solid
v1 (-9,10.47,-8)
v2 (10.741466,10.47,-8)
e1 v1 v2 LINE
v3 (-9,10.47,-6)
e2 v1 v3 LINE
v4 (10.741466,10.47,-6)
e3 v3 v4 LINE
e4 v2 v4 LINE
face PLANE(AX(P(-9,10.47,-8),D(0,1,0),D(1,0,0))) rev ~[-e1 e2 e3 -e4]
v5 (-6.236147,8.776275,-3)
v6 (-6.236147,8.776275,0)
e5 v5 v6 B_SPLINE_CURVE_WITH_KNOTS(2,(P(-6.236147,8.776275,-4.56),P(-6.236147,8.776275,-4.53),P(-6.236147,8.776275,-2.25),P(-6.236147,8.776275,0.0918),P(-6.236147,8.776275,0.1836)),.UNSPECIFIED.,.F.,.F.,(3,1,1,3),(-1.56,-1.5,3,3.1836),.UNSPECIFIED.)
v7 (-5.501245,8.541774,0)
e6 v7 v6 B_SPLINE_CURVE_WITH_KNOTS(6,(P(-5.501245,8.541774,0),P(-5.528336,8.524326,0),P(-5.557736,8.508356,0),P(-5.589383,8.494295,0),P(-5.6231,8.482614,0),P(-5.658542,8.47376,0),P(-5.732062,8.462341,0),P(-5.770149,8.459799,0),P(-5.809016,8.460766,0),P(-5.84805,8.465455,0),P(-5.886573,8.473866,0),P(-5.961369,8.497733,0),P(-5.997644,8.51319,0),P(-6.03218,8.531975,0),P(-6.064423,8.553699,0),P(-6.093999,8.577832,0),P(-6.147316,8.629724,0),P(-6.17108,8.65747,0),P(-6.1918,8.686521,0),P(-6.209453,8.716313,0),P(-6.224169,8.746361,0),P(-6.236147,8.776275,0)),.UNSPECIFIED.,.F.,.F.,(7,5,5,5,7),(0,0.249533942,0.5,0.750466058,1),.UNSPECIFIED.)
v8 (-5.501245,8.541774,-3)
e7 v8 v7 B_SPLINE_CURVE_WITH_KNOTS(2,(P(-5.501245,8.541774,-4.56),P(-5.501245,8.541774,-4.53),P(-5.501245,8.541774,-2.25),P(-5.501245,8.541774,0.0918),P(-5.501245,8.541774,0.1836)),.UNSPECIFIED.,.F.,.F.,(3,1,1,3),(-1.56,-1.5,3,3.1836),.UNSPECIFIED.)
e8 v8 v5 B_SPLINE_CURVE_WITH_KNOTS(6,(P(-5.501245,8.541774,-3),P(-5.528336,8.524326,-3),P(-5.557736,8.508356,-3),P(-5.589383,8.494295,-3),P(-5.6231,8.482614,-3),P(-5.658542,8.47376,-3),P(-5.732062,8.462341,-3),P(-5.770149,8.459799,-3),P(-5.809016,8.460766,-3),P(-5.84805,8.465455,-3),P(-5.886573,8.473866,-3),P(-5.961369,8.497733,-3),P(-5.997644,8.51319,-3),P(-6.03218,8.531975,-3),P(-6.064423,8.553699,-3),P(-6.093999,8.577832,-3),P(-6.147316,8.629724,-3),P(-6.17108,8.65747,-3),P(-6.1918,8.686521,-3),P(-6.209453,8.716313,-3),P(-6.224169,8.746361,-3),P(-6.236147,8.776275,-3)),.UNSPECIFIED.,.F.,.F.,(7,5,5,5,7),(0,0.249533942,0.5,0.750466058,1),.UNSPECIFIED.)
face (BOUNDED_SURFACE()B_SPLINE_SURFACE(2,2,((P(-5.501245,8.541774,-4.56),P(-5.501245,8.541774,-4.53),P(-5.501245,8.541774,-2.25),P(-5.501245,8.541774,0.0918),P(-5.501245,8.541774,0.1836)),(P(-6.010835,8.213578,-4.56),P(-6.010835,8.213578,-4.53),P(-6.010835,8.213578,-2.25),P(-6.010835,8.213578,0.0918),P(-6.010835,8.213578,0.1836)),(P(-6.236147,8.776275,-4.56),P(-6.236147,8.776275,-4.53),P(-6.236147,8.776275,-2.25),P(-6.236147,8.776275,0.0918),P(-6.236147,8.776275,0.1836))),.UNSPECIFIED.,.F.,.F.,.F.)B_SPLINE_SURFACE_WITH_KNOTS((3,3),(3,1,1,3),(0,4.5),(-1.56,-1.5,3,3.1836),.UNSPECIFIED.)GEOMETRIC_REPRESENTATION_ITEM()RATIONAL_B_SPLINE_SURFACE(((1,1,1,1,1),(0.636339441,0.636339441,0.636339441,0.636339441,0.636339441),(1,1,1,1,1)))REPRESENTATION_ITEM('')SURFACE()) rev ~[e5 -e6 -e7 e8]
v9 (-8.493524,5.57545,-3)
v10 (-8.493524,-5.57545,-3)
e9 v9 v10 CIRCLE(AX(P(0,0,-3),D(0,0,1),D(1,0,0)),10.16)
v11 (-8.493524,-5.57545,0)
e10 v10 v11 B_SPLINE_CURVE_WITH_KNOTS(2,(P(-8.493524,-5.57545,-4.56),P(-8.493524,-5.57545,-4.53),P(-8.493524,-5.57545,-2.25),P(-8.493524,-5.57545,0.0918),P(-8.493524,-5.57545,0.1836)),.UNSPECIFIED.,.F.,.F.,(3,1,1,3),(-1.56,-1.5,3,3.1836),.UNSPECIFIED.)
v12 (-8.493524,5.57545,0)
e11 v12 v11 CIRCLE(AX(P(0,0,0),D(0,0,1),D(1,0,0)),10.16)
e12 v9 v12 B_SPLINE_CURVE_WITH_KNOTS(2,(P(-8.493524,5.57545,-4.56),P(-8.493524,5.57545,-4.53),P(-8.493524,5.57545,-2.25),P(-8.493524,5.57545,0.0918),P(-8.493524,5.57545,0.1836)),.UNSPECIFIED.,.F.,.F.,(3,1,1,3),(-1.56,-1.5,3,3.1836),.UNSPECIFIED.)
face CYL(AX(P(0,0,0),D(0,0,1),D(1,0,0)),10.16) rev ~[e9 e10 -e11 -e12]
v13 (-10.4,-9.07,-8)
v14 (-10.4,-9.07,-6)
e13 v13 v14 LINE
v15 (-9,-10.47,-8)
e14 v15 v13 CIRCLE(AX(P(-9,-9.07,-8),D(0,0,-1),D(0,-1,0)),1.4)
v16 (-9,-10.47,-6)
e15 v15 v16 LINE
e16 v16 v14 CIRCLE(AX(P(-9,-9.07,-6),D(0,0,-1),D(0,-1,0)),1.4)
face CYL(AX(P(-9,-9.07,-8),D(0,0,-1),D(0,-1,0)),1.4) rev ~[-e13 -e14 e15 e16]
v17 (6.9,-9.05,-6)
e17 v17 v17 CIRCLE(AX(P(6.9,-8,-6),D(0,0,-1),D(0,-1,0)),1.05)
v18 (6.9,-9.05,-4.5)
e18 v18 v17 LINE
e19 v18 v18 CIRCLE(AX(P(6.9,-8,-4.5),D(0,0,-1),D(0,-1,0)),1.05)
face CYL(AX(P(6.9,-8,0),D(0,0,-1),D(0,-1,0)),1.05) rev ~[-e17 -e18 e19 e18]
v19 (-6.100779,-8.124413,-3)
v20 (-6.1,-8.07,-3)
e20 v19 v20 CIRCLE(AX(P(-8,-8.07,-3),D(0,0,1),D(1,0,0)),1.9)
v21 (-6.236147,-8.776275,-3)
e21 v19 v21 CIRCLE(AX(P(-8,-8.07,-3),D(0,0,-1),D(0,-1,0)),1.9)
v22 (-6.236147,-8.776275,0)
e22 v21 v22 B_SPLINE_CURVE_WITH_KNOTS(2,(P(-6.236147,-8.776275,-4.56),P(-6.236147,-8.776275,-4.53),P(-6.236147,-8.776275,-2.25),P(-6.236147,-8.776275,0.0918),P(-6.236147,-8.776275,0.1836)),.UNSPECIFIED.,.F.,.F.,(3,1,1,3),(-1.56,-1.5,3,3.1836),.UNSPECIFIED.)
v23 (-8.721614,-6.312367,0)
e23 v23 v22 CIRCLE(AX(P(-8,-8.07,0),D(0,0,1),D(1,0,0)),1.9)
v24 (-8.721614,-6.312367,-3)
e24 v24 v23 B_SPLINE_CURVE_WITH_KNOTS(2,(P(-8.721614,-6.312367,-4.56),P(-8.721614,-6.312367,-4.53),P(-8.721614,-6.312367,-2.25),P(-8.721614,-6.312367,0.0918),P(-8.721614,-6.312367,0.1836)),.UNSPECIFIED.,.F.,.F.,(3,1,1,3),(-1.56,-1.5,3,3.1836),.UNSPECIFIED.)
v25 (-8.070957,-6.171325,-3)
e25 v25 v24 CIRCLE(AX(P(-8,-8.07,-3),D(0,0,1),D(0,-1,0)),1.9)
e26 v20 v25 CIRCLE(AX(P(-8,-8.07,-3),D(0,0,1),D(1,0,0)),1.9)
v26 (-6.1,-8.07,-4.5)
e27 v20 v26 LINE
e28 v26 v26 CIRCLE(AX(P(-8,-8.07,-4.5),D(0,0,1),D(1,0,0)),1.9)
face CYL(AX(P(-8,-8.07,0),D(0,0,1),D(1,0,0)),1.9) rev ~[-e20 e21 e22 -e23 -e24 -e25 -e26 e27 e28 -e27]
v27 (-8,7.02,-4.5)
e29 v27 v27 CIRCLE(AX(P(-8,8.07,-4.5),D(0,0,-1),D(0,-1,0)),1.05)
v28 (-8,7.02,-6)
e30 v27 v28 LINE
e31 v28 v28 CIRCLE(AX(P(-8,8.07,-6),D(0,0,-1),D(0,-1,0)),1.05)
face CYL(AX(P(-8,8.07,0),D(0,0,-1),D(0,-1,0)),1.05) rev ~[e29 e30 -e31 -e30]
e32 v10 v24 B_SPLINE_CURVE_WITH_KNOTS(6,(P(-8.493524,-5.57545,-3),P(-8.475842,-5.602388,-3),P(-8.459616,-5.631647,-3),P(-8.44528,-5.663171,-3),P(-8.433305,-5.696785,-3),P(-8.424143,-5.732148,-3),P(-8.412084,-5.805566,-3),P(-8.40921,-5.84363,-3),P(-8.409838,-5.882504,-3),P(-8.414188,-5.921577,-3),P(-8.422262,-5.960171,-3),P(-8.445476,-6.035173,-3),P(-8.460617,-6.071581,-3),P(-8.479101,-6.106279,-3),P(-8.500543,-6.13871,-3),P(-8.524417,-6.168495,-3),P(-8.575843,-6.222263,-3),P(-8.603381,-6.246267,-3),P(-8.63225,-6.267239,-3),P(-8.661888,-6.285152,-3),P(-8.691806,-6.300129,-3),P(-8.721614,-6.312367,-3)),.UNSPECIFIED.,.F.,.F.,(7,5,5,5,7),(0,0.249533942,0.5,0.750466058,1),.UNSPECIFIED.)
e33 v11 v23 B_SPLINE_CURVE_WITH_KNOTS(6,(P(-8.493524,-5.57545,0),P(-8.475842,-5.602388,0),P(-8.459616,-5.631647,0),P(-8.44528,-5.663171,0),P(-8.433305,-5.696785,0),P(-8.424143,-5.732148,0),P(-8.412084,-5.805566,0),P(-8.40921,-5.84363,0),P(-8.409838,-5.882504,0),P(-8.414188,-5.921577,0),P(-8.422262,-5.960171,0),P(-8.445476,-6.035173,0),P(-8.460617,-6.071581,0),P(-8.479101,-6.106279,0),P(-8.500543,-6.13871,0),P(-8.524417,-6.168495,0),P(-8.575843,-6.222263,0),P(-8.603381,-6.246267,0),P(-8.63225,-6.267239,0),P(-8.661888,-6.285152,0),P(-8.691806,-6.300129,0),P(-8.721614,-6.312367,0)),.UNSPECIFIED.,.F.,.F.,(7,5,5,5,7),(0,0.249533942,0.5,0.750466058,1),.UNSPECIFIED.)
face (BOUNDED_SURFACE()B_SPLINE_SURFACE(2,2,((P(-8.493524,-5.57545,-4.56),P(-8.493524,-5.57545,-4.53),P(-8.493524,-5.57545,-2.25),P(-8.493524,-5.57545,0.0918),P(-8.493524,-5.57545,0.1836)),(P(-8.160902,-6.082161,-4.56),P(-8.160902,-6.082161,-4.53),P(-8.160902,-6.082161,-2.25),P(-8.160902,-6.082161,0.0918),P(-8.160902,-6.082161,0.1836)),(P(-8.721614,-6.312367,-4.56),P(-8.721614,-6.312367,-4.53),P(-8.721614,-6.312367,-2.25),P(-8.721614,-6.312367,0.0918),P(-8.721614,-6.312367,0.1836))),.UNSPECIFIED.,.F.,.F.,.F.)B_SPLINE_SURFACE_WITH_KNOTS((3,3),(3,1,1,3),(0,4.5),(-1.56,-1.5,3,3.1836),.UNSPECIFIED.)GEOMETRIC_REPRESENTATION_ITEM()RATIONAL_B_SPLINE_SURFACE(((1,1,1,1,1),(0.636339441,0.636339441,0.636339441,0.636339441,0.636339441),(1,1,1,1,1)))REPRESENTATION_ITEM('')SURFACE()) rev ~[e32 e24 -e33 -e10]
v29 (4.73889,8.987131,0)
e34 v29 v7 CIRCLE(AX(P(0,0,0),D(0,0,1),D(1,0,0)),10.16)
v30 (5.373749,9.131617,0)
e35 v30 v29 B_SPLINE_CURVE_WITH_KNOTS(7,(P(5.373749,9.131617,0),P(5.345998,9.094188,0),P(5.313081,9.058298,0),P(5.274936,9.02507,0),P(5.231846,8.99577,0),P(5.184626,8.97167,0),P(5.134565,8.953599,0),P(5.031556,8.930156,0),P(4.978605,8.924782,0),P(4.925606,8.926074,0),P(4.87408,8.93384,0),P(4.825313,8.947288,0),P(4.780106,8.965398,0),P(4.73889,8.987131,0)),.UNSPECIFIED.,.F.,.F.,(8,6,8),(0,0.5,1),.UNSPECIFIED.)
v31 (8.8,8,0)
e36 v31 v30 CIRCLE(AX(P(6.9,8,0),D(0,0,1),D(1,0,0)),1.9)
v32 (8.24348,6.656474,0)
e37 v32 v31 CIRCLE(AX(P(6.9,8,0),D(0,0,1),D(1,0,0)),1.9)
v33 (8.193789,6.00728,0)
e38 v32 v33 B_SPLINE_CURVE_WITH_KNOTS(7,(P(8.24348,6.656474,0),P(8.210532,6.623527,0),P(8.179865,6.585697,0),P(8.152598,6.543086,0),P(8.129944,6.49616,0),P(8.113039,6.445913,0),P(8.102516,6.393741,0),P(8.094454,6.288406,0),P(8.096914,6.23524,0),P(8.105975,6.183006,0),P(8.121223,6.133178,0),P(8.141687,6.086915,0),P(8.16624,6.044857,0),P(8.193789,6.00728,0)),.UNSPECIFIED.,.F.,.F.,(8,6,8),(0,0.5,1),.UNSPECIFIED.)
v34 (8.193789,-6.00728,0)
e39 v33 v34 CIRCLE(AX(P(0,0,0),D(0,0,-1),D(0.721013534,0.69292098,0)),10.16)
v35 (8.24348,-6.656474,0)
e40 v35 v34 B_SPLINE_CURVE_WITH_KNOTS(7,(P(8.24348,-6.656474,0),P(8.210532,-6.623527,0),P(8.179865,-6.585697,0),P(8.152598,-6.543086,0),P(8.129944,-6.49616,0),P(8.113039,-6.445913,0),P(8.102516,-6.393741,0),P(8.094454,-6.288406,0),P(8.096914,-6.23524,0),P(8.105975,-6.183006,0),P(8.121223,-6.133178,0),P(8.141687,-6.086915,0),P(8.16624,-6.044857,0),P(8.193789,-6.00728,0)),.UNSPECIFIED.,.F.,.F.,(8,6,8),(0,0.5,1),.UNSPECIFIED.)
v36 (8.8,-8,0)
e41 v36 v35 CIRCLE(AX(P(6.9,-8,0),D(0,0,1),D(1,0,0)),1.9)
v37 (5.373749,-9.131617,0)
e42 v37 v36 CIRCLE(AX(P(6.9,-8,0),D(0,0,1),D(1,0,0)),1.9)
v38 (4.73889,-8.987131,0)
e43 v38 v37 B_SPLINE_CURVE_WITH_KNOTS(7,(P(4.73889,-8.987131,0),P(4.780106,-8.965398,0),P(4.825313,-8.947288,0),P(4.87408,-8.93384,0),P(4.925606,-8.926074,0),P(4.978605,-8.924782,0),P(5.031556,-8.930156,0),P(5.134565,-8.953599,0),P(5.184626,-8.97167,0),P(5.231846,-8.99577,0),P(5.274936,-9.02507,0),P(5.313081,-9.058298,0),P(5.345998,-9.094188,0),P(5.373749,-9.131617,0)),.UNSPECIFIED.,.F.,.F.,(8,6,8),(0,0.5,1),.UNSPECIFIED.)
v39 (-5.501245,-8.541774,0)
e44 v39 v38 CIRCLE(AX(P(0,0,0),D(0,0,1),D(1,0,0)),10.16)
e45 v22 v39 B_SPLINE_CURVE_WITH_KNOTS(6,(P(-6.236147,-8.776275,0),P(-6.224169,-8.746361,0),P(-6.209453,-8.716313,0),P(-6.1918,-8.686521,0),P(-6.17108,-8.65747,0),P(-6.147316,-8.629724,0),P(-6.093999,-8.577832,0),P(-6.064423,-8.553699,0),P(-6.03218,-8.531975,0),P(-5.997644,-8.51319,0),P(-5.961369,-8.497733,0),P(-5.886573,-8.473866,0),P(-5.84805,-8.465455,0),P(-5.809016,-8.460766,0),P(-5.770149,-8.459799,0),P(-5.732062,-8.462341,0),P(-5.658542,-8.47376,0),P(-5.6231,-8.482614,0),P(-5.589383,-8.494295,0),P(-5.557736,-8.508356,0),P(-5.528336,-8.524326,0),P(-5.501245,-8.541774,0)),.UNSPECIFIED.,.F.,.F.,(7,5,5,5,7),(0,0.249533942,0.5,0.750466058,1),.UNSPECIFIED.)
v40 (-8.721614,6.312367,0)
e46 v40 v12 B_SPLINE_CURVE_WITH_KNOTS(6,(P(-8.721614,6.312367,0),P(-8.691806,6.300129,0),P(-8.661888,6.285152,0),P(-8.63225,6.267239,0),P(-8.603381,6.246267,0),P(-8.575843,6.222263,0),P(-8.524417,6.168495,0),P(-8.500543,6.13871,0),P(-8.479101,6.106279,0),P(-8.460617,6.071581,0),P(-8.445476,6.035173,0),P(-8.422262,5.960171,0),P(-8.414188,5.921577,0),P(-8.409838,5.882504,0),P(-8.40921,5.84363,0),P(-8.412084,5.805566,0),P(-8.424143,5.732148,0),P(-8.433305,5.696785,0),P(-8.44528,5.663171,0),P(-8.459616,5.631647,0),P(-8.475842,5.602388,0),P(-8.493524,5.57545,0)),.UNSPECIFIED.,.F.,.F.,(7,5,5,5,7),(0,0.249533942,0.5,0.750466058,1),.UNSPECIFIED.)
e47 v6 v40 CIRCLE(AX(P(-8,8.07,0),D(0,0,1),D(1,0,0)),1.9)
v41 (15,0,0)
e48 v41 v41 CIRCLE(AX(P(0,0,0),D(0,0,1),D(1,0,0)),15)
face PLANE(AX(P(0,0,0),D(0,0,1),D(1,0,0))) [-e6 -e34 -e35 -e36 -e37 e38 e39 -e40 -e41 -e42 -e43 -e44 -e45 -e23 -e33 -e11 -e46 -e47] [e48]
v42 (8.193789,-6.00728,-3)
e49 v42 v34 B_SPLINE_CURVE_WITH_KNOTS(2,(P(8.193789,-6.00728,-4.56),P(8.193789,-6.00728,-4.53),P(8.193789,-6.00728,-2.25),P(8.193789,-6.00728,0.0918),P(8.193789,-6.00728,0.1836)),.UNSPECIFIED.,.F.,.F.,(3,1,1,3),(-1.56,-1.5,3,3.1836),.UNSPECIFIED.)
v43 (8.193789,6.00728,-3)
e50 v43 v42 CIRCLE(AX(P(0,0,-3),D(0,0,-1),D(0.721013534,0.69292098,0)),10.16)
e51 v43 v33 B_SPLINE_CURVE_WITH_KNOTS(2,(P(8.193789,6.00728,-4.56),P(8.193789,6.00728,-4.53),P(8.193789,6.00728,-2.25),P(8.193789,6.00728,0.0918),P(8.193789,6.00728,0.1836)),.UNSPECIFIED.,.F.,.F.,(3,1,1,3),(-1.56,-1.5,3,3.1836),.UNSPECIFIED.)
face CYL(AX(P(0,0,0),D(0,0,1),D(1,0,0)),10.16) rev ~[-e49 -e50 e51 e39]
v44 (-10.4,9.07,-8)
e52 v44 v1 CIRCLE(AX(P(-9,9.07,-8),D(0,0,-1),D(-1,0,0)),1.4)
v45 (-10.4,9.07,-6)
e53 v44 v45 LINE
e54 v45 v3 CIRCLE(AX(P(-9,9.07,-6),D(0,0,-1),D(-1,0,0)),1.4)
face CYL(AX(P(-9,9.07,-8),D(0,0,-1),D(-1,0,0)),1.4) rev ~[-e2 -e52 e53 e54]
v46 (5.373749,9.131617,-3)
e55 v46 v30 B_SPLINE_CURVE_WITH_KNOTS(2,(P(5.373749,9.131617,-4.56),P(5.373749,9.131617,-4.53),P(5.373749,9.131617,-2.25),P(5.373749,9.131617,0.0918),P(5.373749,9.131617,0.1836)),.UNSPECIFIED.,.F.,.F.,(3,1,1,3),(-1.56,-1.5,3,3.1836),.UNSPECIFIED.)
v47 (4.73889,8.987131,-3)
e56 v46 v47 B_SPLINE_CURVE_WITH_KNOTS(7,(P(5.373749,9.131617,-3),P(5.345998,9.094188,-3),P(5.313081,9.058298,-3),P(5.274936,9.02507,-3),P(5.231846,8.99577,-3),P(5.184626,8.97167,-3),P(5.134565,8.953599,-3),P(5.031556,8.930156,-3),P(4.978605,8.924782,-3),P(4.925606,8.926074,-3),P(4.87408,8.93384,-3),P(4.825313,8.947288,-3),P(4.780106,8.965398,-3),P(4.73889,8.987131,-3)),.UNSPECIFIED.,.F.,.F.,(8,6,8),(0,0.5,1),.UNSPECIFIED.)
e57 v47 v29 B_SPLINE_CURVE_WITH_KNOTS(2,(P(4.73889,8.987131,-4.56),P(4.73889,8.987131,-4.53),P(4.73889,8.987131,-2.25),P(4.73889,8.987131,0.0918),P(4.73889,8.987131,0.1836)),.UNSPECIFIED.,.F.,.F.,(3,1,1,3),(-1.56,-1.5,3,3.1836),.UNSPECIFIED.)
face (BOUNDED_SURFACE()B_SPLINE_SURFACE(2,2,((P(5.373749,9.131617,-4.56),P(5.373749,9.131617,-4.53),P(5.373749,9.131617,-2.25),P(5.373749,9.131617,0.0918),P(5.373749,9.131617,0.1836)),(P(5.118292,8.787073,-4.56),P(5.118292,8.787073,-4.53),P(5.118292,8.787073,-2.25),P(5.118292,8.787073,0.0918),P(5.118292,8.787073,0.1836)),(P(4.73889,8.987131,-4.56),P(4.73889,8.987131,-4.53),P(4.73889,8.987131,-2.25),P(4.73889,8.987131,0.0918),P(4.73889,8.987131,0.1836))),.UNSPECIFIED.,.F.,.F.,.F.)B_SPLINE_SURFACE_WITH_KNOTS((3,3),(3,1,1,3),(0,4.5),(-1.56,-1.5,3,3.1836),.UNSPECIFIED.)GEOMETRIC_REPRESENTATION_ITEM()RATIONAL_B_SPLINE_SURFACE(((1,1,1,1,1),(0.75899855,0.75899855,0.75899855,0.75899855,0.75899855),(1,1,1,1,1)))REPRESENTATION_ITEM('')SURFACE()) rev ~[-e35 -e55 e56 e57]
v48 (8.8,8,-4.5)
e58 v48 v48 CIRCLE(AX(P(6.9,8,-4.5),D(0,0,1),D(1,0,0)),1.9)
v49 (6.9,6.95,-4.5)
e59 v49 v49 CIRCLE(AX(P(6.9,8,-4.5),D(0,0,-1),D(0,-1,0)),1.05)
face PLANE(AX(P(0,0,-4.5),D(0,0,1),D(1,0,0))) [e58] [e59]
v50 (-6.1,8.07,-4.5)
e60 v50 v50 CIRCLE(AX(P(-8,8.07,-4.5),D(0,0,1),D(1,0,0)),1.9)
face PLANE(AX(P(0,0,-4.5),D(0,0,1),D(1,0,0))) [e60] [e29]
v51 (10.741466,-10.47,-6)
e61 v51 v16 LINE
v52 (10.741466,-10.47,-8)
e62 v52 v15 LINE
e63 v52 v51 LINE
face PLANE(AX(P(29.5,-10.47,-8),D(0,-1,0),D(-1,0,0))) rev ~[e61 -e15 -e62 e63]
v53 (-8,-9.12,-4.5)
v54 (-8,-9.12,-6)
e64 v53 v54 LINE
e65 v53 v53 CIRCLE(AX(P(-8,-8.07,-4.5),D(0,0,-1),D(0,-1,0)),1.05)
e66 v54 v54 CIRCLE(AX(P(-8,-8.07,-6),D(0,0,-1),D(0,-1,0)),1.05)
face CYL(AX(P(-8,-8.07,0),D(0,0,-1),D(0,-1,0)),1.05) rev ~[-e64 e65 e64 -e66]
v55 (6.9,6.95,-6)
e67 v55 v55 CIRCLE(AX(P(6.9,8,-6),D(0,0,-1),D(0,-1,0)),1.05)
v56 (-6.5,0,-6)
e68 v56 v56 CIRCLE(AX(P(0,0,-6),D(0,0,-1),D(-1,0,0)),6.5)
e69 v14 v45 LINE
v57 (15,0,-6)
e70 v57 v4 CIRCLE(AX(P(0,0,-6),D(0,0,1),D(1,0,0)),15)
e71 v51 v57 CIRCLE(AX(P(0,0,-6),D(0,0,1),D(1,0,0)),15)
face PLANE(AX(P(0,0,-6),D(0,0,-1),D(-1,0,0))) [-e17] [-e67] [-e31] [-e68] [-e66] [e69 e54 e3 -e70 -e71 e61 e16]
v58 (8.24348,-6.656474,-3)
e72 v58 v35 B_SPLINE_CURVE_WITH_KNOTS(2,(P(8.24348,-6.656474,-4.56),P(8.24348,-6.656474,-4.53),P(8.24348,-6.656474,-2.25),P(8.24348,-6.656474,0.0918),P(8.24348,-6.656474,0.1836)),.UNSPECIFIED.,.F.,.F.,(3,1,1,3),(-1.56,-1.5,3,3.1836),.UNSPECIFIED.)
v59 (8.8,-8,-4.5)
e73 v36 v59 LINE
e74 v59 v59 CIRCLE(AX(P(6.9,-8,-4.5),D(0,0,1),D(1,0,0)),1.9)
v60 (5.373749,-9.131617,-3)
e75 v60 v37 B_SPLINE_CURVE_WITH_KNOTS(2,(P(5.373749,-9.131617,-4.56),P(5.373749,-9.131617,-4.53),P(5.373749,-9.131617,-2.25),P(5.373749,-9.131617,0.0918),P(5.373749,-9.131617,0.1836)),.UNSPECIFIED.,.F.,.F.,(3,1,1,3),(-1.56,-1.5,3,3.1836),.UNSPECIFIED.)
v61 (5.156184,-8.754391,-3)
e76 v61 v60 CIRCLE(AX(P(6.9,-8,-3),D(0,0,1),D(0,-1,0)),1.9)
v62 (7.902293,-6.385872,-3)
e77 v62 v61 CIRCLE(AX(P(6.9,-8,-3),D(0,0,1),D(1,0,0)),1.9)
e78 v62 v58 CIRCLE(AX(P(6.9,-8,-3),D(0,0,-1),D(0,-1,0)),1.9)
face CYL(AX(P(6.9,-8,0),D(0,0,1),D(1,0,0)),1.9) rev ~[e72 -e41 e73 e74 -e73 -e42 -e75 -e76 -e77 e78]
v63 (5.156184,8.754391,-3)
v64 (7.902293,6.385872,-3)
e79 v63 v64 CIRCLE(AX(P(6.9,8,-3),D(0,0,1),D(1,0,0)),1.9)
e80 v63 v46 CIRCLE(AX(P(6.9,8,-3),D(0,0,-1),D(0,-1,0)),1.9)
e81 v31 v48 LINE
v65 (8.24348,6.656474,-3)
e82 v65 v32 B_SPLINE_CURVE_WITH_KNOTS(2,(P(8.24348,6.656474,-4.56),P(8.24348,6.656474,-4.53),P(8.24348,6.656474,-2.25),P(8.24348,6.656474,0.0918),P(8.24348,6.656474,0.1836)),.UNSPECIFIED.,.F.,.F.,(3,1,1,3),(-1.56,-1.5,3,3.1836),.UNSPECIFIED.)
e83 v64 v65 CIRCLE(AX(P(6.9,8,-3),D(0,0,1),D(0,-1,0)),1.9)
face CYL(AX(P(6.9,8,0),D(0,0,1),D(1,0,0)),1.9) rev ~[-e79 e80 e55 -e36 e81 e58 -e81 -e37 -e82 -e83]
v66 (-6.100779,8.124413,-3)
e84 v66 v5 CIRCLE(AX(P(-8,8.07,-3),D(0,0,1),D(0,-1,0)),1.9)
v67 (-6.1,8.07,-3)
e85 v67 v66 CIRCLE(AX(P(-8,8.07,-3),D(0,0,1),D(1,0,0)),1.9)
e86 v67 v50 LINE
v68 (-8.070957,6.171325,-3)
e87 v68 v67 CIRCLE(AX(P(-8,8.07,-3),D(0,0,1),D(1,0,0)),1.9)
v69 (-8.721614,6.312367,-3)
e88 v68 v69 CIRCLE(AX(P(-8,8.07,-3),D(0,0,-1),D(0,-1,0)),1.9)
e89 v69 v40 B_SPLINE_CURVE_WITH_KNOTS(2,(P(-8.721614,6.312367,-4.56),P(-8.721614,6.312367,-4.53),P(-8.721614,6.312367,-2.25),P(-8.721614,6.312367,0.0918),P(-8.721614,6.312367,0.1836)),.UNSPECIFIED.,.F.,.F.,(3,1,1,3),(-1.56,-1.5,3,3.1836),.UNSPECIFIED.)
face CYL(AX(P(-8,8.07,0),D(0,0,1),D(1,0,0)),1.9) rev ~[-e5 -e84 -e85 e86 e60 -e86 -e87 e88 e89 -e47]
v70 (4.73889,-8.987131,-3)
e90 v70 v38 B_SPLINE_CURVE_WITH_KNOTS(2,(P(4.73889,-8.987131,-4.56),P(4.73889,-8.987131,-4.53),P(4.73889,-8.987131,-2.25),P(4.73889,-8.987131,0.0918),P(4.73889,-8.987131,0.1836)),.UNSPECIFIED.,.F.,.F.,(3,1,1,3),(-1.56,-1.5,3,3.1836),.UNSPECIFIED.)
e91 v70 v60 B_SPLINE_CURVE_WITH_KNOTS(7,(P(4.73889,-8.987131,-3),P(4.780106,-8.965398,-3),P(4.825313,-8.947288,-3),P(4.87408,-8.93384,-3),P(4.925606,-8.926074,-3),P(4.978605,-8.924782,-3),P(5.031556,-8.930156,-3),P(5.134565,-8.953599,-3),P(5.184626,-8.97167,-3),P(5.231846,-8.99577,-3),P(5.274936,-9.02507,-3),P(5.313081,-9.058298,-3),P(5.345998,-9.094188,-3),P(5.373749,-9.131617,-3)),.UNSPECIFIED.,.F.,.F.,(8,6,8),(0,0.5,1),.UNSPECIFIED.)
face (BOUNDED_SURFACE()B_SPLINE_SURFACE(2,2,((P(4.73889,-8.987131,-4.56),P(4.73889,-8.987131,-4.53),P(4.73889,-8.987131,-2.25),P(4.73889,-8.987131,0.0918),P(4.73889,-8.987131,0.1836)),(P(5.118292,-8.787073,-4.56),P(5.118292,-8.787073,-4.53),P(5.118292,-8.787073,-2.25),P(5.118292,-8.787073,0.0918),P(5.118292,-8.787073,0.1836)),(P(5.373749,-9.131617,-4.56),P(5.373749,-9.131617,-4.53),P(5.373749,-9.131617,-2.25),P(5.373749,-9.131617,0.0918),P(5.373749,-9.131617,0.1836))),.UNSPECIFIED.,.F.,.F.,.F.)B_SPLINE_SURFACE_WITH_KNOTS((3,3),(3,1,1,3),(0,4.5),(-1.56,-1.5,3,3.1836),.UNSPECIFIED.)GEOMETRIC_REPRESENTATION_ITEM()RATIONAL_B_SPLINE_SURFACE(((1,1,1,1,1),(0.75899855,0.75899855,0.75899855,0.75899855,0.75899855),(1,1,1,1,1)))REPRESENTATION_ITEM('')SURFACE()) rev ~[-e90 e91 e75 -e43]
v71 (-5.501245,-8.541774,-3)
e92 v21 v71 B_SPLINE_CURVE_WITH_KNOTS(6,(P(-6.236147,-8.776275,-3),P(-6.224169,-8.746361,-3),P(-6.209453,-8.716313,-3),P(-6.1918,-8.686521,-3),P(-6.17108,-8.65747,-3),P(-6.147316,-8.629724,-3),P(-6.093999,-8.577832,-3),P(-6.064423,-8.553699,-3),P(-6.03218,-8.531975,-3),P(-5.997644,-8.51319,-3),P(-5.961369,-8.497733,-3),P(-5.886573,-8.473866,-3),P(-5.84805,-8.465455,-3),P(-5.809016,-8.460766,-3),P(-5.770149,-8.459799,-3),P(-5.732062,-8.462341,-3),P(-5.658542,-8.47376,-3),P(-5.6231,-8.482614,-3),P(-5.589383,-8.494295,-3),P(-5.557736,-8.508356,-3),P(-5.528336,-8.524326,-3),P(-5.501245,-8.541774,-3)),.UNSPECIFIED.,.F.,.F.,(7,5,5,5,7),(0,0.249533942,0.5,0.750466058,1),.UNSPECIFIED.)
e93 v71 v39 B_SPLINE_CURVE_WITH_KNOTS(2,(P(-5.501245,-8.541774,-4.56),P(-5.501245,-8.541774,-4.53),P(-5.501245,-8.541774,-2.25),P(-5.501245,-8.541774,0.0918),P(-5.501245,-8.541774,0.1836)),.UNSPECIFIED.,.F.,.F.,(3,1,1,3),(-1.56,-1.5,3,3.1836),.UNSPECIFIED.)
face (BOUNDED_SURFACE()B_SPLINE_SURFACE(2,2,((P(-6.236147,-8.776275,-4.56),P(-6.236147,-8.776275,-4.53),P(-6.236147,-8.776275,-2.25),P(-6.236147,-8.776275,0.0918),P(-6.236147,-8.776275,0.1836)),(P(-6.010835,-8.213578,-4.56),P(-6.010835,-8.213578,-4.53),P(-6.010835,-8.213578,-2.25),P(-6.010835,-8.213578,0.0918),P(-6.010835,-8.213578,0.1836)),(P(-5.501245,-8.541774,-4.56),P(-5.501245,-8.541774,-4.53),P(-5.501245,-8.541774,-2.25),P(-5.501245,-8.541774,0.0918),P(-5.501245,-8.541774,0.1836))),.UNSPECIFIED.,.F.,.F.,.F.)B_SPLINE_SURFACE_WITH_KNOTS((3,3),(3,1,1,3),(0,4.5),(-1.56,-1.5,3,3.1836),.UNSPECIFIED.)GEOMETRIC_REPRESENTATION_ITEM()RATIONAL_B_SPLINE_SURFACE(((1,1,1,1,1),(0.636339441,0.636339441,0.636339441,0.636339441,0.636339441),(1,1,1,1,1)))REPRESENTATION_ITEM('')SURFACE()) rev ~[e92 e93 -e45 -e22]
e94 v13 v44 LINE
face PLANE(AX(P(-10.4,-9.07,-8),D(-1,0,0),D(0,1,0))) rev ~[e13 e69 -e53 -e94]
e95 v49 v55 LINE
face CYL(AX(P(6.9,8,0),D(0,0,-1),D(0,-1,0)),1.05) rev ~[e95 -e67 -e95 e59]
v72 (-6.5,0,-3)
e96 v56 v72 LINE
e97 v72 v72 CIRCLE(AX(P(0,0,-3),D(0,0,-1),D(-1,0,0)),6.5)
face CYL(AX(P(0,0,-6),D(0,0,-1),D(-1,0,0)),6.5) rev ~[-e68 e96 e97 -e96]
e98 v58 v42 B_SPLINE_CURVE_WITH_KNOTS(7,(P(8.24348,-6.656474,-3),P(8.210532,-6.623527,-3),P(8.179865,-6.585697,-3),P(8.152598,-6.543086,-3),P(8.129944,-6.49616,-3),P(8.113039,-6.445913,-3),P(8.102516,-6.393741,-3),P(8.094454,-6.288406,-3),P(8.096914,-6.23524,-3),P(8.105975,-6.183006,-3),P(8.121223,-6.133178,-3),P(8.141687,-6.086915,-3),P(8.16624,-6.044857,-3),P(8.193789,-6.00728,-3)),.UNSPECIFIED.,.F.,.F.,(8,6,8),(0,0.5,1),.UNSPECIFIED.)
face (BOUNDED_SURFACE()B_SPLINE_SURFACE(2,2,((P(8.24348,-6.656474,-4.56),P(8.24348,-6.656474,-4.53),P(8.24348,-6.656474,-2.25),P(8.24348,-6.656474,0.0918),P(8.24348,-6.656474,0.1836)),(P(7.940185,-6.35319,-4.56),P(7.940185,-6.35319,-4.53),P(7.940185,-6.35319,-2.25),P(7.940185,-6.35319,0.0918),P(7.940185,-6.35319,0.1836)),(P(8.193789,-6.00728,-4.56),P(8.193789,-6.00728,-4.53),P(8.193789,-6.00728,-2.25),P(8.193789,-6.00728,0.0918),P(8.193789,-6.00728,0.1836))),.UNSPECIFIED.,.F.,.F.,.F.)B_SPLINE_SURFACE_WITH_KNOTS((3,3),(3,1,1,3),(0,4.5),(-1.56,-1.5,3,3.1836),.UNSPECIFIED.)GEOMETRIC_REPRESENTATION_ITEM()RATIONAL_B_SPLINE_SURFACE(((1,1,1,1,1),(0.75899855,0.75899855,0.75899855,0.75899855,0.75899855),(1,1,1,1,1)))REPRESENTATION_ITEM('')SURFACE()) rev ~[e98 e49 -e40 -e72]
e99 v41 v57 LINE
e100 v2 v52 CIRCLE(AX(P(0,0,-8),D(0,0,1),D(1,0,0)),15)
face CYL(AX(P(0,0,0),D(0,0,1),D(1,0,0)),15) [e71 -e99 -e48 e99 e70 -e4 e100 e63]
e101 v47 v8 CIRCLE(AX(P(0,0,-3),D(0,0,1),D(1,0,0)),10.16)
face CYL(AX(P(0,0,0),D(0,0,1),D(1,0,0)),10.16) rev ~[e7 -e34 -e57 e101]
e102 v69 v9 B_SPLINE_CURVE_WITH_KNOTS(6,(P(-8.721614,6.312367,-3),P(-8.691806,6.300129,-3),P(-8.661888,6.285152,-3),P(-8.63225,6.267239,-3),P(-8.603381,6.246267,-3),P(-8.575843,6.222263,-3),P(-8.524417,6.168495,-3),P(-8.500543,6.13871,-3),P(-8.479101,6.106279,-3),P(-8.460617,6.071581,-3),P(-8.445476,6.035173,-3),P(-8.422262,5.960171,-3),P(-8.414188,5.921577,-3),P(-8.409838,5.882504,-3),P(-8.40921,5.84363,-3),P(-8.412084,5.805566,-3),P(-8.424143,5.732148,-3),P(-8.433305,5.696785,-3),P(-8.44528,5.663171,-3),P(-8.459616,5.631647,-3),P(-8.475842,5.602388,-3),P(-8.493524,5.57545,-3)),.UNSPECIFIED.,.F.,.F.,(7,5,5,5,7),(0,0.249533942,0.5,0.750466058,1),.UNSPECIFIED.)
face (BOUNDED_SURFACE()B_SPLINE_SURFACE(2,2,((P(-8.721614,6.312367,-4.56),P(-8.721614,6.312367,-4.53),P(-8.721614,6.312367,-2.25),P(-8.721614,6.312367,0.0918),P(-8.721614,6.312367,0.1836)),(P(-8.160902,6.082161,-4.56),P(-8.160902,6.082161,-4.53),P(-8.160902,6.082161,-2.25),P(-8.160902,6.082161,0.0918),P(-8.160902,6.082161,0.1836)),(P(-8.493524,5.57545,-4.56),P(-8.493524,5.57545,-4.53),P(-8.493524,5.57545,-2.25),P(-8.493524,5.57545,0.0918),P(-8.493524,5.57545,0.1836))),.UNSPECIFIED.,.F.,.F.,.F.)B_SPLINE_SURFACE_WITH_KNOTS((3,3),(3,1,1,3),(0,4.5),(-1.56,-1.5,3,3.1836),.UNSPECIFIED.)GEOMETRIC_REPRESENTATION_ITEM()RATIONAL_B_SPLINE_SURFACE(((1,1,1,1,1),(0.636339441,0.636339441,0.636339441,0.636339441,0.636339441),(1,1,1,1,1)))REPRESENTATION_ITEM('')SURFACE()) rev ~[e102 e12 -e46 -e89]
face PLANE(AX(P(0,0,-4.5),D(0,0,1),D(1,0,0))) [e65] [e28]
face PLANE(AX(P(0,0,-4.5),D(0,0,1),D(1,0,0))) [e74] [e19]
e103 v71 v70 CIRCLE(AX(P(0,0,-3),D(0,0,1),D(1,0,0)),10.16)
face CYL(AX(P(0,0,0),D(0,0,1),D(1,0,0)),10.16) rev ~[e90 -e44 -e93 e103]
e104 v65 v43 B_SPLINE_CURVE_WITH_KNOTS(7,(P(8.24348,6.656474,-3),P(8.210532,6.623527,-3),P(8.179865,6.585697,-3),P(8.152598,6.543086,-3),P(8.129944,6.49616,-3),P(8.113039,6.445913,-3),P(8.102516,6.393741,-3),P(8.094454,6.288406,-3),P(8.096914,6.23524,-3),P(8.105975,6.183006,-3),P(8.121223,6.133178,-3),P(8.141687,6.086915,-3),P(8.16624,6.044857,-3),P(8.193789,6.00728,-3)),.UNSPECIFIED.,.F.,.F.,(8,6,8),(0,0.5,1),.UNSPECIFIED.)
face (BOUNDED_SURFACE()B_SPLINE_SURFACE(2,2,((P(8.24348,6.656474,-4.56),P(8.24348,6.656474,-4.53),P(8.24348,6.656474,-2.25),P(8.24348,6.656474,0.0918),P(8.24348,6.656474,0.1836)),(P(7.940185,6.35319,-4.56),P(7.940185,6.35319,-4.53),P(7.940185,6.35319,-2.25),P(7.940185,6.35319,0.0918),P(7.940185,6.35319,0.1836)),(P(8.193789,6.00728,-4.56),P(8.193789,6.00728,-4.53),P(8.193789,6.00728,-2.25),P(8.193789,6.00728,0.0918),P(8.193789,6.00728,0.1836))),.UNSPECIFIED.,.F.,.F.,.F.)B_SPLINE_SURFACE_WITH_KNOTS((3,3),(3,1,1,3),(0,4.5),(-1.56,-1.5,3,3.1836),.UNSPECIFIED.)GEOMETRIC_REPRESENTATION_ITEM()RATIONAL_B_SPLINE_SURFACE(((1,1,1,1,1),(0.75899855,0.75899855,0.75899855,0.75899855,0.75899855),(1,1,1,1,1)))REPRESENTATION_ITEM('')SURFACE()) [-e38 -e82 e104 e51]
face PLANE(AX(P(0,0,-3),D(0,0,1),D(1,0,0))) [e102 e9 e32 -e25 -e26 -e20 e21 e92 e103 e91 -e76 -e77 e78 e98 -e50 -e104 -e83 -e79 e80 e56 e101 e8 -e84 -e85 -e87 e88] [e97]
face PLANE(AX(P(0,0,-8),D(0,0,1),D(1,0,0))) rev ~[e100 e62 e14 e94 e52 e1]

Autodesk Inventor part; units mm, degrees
ref_plane "YZ Plane" through (0, 0, 0) normal (1, 0, 0) x (0, 1, 0)
ref_plane "XZ Plane" through (0, 0, 0) normal (0, 1, 0) x (-1, 0, 0)
ref_plane "XY Plane" through (0, 0, 0) normal (0, 0, 1) x (1, 0, 0)
sketch "Sketch8" plane through (0, 0, 0) normal (0, 0, 1) x (1, 0, 0)
  circle A0 centre (0, 0) radius 15
  dimension "d33" = 30
extrude "Extrusion7" add sketch "Sketch8" against normal blind 8
sketch "Sketch10" plane through (0, 0, -8) normal (0, 0, -1) x (-1, 0, 0)
  line L0 (9, 10.07) -> (-29.1, 10.07)
  arc A0 (10, 9.07) -> (9, 10.07) centre (9, 9.07) ccw
  line L1 (10, 9.07) -> (10, -9.07)
  arc A1 (9, -10.07) -> (10, -9.07) centre (9, -9.07) ccw
  line L2 (-29.1, -10.07) -> (9, -10.07)
  line L3 (-29.1, 10.07) -> (-29.1, -10.07)
  line L4 (10.4, -9.07) -> (10.4, 9.07)
  arc A2 (10.4, 9.07) -> (9, 10.47) centre (9, 9.07) ccw
  line L5 (9, 10.47) -> (-29.5, 10.47)
  line L6 (-29.5, 10.47) -> (-29.5, -10.47)
  line L7 (-29.5, -10.47) -> (9, -10.47)
  arc A3 (9, -10.47) -> (10.4, -9.07) centre (9, -9.07) ccw
  dimension "d59" = 0.4
extrude "Extrusion8" cut sketch "Sketch10" against normal blind 2 contours A0 L1 A1 L2 L3 L0 | A3 L7 L6 L5 A2 L4
sketch "Sketch11" plane through (0, 0, -6) normal (0, 0, -1) x (-1, 0, 0)
  circle A0 centre (0, 0) radius 6.4
  circle A1 centre (0, 0) radius 6.5
  point P0 (0, 0)
  dimension "d58" = 13
extrude "Extrusion9" cut sketch "Sketch11" against normal through all contours A0 | A1
sketch "Sketch13" plane through (0, 0, 0) normal (0, 0, 1) x (1, 0, 0)
  circle A0 centre (0, 0) radius 9.96
  circle A1 centre (0, 0) radius 10.16
  point P0 (0, 0)
  dimension "d44" = 0.2
extrude "Extrusion11" cut sketch "Sketch13" against normal blind 3 contours A0 | A1
sketch "Sketch14" plane through (0, 0, 0) normal (0, 0, 1) x (1, 0, 0)
  circle A0 centre (6.9, 8) radius 0.7835
  circle A1 centre (6.9, -8) radius 0.7835
  circle A2 centre (-8, 8.07) radius 1
  circle A3 centre (-8, -8.07) radius 1
  point P0 (0, 0)
hole "Hole2" at (6.9, 8, 0) at (-8, 8.07, 0) at (-8, -8.07, 0) at (6.9, -8, 0) direction (0, 0, -1) diameter 2.1 end through all
sketch "Sketch15" plane through (0, 0, 0) normal (0, 0, 1) x (1, 0, 0)
  arc A0 (7.3255, 7.0401) -> (5.888, 8.2799) centre (6.9, 8) ccw projected
  arc A1 (5.888, -8.2799) -> (7.3255, -7.0401) centre (6.9, -8) ccw projected
  circle A2 centre (-8, 8.07) radius 1.05 projected
  circle A3 centre (-8, -8.07) radius 1.05 projected
  circle A4 centre (6.9, 8) radius 1.9
  circle A5 centre (6.9, -8) radius 1.9
  circle A6 centre (-8, -8.07) radius 1.9
  circle A7 centre (-8, 8.07) radius 1.9
  point P0 (0, 0)
  dimension "d54" = 3.8
extrude "Extrusion12" cut sketch "Sketch15" against normal blind 4.5 contours A2 | A3 | A4 | A5 | A6 | A7
fillet "Fillet2" radius 0.5 8 edges at (5.1562, 8.7544, -1.5) (7.9023, 6.3859, -1.5) (-6.1008, 8.1244, -1.5) (-8.071, 6.1713, -1.5) (-8.071, -6.1713, -1.5) (-6.1008, -8.1244, -1.5) (5.1562, -8.7544, -1.5) (7.9023, -6.3859, -1.5)
properties part number "axis_4_top_frame" material "Aluminum 6061-AHC"
